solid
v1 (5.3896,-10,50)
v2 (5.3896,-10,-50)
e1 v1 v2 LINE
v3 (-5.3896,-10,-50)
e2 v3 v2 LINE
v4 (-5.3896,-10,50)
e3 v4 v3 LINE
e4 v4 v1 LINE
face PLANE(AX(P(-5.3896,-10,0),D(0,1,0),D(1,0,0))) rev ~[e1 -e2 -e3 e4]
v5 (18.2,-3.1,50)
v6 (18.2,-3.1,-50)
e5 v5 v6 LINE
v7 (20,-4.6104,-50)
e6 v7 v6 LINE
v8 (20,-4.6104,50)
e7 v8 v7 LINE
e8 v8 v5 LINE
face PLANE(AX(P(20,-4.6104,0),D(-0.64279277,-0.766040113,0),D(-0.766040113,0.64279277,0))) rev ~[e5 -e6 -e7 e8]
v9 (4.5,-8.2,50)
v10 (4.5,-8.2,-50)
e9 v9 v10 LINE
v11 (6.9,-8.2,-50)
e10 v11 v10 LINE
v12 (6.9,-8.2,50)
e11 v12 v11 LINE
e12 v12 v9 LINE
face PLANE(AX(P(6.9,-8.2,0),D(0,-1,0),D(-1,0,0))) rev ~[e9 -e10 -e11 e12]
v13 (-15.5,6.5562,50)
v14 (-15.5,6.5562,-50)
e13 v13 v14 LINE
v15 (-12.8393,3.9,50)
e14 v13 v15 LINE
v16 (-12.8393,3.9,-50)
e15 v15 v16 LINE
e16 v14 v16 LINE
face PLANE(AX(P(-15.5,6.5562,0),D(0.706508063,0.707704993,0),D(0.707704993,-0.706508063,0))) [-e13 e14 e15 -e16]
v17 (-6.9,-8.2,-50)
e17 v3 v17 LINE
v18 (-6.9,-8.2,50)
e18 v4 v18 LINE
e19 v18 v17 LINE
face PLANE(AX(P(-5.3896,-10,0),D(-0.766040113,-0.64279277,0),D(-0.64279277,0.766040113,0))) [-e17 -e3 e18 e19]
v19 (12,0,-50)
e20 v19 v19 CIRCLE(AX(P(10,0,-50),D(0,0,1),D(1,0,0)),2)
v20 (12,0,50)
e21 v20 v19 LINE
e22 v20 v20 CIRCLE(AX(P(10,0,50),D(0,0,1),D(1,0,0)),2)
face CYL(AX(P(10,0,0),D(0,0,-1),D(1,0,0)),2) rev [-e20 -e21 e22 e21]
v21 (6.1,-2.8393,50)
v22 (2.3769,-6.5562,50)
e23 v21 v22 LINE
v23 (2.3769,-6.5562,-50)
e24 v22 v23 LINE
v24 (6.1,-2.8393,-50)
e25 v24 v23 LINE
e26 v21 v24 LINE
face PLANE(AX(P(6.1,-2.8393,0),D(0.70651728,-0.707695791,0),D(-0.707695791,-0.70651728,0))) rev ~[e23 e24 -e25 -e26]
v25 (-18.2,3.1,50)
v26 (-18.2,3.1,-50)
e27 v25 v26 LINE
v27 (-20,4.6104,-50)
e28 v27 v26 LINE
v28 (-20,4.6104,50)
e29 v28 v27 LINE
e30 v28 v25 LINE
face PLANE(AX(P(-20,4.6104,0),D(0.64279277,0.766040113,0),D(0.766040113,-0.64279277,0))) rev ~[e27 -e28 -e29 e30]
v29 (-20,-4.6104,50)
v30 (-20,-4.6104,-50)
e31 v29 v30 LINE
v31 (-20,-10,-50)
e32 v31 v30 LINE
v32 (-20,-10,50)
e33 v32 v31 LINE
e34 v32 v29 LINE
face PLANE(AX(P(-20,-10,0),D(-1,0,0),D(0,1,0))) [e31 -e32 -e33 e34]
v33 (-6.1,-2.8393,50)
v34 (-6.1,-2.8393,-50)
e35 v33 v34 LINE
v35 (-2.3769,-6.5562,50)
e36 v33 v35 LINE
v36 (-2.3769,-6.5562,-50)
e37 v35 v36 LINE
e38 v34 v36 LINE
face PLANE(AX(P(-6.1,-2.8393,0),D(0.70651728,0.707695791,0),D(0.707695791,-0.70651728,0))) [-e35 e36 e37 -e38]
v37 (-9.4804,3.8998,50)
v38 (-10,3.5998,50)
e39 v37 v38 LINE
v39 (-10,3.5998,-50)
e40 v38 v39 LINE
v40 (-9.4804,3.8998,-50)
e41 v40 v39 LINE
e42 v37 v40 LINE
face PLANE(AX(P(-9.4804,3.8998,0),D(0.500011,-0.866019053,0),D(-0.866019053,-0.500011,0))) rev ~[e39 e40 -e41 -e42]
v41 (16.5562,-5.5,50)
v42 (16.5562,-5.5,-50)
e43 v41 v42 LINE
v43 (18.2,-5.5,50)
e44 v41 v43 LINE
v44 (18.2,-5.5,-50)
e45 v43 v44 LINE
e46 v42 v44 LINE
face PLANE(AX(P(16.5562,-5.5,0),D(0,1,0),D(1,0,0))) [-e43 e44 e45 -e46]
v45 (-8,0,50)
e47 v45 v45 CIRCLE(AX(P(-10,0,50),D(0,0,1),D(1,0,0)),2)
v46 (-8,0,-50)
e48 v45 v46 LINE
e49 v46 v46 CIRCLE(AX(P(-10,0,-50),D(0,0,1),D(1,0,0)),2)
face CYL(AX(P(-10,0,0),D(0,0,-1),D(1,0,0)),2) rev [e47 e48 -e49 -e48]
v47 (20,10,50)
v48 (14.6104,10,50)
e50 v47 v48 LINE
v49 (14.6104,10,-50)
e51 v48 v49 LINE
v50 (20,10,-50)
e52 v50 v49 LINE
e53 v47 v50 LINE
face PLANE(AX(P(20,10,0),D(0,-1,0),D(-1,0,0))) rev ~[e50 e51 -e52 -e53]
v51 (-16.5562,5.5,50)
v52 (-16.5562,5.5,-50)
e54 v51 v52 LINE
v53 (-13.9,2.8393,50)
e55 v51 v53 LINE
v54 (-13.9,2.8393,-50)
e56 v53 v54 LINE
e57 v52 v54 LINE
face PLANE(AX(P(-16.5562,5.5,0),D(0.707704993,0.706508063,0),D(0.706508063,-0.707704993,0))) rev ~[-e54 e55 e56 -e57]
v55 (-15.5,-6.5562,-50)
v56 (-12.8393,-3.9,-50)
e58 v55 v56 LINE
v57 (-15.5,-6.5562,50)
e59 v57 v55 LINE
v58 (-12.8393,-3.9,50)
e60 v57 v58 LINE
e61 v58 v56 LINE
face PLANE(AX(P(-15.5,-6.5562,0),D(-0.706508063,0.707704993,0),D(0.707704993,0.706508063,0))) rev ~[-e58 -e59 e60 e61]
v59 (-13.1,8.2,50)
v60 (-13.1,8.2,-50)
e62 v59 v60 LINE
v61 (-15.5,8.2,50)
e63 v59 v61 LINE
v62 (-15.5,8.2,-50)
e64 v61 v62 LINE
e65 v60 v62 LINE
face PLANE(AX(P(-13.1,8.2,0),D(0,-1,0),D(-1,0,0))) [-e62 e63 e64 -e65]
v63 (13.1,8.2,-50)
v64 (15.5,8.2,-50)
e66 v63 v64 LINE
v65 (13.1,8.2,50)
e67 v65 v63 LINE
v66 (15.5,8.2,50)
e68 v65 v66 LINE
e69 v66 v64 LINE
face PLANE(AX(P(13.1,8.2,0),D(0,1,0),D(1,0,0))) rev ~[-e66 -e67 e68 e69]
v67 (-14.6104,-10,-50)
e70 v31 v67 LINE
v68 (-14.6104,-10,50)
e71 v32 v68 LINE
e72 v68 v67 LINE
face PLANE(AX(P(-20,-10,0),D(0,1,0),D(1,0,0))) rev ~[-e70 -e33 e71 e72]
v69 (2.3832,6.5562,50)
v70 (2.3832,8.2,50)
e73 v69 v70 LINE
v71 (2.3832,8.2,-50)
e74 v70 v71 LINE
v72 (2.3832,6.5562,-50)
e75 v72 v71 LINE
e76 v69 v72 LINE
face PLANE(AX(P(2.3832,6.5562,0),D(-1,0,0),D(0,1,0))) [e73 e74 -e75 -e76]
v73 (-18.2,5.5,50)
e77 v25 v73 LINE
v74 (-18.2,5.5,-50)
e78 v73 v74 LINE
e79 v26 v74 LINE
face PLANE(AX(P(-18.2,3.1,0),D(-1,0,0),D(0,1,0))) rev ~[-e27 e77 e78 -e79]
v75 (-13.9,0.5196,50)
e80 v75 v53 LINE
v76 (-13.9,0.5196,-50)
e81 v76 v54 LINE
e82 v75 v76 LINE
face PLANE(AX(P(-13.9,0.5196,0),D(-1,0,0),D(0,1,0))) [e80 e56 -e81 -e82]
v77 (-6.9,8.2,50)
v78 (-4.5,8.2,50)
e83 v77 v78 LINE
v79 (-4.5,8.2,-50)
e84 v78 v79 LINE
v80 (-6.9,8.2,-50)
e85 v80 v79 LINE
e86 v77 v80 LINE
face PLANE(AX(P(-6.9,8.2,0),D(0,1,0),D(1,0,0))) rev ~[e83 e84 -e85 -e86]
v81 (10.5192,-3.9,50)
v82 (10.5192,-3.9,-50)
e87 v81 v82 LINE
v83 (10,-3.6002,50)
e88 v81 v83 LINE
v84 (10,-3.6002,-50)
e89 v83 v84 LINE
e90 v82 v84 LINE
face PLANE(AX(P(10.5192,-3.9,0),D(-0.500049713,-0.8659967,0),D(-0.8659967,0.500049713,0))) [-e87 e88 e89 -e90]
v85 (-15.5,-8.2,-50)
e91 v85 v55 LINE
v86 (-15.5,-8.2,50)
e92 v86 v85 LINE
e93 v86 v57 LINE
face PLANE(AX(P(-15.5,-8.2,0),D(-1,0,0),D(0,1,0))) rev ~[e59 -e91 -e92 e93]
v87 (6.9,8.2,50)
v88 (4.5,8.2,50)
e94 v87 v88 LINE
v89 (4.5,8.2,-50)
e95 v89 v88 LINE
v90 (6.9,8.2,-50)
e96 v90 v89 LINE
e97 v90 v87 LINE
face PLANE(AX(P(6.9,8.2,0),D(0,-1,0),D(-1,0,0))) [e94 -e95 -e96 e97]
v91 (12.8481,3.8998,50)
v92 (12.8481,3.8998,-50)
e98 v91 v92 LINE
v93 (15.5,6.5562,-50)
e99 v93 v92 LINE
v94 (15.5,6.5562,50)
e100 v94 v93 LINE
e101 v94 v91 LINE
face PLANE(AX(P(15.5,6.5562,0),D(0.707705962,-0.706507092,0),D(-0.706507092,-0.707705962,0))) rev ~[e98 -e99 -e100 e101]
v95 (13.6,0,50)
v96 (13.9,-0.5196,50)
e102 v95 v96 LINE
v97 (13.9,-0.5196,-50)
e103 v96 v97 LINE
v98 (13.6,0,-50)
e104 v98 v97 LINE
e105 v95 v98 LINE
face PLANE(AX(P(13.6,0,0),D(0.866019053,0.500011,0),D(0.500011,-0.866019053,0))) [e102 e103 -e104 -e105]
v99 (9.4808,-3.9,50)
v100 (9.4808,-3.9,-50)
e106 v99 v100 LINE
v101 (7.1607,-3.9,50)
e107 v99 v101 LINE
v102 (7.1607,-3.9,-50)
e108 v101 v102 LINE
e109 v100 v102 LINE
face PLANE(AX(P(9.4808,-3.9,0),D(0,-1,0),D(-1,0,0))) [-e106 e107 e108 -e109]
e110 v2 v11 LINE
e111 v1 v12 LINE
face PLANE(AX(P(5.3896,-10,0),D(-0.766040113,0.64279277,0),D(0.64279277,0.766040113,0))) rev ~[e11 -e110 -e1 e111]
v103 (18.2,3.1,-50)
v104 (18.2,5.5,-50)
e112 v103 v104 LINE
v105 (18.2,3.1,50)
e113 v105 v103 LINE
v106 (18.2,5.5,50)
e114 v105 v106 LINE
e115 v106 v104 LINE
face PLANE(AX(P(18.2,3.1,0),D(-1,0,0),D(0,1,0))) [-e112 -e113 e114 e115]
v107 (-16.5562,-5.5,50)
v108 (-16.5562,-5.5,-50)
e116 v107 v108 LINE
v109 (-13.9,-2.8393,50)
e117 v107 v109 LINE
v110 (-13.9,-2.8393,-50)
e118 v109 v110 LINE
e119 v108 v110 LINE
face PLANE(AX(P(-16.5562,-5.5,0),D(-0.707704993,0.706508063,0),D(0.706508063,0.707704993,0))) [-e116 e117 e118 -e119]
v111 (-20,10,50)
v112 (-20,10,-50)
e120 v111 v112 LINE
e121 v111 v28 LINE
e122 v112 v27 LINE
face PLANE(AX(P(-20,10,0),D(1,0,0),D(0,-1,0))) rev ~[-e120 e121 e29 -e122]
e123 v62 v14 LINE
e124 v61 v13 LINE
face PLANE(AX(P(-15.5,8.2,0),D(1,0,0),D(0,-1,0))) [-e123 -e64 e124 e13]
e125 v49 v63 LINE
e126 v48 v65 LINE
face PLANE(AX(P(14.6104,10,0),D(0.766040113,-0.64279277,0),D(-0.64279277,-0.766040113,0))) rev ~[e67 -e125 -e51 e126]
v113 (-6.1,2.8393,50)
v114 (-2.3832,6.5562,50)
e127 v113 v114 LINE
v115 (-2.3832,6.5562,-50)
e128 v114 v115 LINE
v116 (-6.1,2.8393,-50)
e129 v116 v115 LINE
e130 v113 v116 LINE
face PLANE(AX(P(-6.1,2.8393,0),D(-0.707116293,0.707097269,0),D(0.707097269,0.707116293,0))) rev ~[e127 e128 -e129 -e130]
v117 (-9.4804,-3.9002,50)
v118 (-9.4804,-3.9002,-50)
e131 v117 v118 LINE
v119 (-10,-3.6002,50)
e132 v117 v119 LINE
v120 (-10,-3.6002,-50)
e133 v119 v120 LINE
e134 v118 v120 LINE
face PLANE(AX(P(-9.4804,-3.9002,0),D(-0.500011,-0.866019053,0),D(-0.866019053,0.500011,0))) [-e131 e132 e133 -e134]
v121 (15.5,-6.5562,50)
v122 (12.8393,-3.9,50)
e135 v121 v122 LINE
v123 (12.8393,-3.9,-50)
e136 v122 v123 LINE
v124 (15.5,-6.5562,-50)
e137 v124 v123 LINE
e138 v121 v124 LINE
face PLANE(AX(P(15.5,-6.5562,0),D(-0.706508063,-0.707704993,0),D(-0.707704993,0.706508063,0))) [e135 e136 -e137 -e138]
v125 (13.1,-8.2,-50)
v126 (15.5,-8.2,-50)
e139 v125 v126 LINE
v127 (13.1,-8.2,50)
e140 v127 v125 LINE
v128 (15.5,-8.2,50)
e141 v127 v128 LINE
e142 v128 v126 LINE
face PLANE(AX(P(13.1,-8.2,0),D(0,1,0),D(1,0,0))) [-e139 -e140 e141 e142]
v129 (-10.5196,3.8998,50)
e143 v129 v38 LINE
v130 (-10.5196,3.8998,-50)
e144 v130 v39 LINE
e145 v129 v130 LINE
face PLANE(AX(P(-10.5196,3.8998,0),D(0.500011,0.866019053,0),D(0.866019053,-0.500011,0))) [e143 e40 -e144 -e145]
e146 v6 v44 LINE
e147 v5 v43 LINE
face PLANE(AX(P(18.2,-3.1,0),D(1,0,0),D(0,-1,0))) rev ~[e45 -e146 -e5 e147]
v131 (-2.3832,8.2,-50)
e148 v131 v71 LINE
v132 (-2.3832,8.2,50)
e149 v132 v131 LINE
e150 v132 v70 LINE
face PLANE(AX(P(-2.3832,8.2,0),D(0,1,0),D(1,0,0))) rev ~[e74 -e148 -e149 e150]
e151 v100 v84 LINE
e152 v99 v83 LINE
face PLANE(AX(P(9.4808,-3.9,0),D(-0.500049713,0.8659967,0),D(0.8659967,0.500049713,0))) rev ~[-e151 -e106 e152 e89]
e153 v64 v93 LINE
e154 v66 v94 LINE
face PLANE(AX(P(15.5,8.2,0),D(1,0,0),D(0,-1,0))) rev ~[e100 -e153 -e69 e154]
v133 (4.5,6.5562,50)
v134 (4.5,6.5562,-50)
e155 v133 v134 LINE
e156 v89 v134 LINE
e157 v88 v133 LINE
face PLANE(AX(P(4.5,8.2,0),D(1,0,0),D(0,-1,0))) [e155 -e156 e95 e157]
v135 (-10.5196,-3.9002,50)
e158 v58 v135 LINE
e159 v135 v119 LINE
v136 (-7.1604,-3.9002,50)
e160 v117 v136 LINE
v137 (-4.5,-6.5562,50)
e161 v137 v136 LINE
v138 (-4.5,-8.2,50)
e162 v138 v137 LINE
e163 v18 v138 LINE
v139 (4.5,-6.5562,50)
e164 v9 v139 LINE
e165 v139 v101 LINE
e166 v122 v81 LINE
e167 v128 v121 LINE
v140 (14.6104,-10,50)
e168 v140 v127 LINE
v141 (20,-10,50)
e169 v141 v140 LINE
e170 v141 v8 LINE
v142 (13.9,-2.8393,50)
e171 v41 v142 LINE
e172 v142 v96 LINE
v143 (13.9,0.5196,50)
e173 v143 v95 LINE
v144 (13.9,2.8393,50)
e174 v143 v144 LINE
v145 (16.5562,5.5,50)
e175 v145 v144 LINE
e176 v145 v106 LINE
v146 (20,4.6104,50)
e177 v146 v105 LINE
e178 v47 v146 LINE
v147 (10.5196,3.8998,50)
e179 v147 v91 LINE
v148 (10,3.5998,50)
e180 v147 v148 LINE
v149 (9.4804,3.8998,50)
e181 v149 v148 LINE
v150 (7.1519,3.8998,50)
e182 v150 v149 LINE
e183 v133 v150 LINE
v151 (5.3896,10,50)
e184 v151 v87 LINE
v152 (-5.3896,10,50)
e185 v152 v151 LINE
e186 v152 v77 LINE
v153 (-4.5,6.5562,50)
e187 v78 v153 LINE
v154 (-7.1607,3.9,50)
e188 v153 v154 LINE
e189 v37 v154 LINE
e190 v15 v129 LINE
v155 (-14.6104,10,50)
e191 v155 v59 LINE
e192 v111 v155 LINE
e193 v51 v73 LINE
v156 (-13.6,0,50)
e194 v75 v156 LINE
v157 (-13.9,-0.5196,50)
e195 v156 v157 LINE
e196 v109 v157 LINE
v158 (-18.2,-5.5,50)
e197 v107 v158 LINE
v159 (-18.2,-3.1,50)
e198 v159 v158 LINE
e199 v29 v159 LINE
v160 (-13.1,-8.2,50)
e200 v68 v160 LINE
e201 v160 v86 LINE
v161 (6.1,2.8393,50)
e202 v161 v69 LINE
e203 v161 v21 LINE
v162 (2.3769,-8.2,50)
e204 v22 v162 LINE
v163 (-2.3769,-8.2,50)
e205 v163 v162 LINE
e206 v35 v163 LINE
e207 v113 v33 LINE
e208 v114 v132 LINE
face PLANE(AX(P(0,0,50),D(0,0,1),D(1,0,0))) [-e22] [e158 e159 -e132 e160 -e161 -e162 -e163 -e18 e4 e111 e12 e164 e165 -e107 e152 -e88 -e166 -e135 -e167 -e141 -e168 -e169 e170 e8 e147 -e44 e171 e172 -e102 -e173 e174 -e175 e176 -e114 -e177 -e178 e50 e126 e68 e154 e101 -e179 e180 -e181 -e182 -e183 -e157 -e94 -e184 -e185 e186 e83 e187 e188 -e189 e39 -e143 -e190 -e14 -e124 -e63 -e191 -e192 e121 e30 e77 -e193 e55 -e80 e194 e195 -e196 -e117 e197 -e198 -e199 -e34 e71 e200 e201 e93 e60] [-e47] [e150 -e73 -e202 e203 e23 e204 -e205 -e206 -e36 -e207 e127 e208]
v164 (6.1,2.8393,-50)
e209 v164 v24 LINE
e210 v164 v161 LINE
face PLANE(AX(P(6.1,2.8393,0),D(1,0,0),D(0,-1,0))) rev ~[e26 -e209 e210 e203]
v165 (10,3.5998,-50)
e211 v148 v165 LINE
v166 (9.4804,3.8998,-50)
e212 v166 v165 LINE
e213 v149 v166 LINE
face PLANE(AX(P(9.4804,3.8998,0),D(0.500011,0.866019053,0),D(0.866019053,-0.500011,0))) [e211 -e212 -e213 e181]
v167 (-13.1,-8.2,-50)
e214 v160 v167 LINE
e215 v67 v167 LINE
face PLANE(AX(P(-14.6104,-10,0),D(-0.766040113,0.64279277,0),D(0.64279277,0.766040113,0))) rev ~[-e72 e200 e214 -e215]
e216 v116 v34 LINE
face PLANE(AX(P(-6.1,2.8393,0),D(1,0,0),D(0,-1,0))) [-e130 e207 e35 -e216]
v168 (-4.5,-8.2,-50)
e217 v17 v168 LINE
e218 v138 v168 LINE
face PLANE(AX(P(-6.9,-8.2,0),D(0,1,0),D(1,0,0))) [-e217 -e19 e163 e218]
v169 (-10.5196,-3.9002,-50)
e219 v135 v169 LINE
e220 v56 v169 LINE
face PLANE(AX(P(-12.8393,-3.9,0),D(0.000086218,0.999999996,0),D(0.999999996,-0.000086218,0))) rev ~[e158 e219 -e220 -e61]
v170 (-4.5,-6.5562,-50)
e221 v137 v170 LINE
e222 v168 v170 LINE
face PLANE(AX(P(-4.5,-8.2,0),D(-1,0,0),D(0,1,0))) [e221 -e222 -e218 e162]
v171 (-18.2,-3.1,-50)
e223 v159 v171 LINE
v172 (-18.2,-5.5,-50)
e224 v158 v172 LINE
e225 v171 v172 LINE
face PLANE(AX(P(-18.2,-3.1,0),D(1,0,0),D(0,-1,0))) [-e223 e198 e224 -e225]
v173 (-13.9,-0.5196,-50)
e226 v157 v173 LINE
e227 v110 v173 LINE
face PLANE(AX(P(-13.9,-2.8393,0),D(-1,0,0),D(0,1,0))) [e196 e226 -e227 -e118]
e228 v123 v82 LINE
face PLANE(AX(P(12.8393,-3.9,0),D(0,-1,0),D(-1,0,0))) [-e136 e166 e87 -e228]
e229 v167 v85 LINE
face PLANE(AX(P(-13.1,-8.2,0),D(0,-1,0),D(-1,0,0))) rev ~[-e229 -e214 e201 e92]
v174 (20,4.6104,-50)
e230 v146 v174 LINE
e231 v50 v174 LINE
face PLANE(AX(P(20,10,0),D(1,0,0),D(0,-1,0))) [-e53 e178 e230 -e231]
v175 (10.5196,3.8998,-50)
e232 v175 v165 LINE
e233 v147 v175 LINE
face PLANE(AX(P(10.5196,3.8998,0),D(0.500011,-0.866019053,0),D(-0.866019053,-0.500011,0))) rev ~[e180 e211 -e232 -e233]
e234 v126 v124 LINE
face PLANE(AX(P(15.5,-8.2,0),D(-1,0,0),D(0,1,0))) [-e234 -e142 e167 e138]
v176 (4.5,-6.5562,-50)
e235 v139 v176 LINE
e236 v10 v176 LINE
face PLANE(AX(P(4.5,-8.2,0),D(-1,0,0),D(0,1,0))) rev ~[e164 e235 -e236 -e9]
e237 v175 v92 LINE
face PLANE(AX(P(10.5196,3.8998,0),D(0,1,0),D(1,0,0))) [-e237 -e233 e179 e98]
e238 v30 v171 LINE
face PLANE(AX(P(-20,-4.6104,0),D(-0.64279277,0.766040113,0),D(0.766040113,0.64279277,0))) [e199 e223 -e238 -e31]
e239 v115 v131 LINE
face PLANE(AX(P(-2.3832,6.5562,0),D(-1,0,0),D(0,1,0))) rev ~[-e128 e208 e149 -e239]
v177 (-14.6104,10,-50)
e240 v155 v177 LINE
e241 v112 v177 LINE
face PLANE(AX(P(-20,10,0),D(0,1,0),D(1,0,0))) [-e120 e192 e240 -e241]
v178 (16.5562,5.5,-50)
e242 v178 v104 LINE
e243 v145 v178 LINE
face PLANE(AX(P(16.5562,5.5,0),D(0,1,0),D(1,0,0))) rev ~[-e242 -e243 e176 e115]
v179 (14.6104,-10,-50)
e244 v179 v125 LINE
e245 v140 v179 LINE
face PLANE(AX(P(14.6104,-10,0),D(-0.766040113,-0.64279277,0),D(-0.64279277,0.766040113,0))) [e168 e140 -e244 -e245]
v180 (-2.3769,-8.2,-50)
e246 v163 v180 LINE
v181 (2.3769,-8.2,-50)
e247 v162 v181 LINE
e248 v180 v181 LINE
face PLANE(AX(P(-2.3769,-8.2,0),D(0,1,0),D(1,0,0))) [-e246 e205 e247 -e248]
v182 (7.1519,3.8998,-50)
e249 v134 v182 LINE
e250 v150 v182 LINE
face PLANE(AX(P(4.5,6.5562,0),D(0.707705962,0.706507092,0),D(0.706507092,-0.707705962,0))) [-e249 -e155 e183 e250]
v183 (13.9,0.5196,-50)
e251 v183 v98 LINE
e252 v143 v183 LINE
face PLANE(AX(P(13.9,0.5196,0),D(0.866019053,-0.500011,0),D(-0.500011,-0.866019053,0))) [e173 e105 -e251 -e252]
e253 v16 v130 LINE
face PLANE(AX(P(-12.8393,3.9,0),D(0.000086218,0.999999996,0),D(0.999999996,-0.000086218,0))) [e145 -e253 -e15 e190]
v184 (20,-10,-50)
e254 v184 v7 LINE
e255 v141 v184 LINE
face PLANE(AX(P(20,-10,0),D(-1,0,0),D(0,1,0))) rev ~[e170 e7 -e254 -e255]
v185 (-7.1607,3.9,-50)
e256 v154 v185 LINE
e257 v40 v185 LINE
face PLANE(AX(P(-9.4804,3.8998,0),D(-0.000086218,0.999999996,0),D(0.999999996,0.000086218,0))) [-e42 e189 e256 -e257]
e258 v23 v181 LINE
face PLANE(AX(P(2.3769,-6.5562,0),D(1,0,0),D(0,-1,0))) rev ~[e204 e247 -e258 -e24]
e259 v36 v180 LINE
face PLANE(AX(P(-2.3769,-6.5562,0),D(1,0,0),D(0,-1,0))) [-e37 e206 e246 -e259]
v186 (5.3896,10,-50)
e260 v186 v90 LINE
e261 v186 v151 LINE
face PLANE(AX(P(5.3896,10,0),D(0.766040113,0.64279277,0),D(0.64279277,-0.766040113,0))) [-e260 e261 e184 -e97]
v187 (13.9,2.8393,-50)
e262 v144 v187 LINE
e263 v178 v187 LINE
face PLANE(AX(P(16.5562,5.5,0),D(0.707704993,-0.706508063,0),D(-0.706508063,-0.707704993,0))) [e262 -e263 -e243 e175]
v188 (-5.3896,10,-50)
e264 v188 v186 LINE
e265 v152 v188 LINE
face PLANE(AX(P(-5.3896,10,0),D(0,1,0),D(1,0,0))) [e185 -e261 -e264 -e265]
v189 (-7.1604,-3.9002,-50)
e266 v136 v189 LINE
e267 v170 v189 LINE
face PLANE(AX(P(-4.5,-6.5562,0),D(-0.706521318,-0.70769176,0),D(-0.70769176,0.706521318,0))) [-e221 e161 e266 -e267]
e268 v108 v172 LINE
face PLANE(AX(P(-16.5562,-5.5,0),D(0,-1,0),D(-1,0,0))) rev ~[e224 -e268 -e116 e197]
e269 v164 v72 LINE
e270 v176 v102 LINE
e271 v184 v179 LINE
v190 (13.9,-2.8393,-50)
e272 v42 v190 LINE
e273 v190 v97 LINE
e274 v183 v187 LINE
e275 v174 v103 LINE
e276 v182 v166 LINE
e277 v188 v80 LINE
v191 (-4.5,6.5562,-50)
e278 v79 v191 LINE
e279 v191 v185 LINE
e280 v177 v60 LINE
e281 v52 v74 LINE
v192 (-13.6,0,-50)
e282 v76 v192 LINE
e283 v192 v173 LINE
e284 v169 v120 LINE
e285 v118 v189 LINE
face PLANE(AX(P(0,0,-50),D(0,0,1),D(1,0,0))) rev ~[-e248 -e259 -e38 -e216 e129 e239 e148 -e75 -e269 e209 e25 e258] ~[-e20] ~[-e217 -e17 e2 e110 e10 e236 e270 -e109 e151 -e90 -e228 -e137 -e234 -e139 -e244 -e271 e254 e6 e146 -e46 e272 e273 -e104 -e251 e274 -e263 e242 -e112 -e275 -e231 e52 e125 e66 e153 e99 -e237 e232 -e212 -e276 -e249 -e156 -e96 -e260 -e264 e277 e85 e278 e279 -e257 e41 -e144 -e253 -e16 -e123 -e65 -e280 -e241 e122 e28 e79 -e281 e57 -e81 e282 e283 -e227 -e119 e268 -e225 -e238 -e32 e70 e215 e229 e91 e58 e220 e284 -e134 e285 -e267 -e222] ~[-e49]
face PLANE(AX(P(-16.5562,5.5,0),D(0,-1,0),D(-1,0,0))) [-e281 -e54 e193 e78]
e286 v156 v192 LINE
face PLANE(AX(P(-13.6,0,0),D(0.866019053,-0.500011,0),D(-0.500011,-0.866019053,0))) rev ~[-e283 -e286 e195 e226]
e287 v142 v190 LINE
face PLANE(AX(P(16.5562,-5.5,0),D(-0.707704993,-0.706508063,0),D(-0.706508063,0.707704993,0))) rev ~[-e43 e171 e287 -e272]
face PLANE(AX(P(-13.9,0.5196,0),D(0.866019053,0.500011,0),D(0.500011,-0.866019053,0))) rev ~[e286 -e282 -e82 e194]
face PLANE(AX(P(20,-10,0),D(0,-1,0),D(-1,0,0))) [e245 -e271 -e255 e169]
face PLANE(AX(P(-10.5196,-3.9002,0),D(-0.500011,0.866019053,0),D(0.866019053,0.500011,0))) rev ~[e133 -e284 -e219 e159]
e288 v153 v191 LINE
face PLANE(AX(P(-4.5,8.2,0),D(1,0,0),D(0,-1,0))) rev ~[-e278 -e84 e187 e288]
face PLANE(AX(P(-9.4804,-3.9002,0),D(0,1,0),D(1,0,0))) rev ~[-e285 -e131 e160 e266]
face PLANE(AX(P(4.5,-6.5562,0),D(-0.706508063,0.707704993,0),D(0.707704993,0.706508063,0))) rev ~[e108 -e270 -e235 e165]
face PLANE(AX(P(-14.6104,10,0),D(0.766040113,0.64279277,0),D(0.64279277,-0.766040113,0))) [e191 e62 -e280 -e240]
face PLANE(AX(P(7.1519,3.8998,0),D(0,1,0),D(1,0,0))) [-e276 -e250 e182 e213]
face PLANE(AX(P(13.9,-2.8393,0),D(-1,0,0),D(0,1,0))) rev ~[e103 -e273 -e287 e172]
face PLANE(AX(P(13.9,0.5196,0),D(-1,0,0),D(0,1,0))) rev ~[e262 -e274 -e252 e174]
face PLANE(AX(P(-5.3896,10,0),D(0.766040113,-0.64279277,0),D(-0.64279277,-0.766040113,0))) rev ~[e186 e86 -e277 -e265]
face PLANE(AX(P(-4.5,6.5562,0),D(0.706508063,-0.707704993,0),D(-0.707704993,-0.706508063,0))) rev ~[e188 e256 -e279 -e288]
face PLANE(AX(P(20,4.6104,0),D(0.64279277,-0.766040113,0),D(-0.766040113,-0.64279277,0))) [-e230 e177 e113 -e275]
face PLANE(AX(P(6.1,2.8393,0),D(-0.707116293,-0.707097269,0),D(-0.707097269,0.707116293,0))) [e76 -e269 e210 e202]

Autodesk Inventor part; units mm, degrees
ref_plane "YZ Plane" through (0, 0, 0) normal (1, 0, 0) x (0, 1, 0)
ref_plane "XZ Plane" through (0, 0, 0) normal (0, 1, 0) x (-1, 0, 0)
ref_plane "XY Plane" through (0, 0, 0) normal (0, 0, 1) x (1, 0, 0)
sketch "Sketch1" plane through (0, 0, 0) normal (0, 0, 1) x (1, 0, 0)
  line L0 (4.5, 8.2) -> (4.5, 6.5562)
  line L1 (6.9, 8.2) -> (4.5, 8.2)
  line L2 (5.3896, 10) -> (6.9, 8.2)
  line L3 (-5.3896, 10) -> (5.3896, 10)
  line L4 (-5.3896, 10) -> (-6.9, 8.2)
  line L5 (-6.9, 8.2) -> (-4.5, 8.2)
  line L6 (-4.5, 8.2) -> (-4.5, 6.5562)
  line L7 (-4.5, 6.5562) -> (-7.1607, 3.9)
  line L8 (-9.4804, 3.8998) -> (-7.1607, 3.9)
  line L9 (-9.4804, 3.8998) -> (-10, 3.5998)
  line L10 (-10.5196, 3.8998) -> (-10, 3.5998)
  line L11 (-12.8393, 3.9) -> (-10.5196, 3.8998)
  line L12 (-15.5, 6.5562) -> (-12.8393, 3.9)
  line L13 (-15.5, 8.2) -> (-15.5, 6.5562)
  line L14 (-13.1, 8.2) -> (-15.5, 8.2)
  line L15 (-14.6104, 10) -> (-13.1, 8.2)
  line L16 (-20, 10) -> (-14.6104, 10)
  line L17 (-20, 10) -> (-20, 4.6104)
  line L18 (-20, 4.6104) -> (-18.2, 3.1)
  line L19 (-18.2, 3.1) -> (-18.2, 5.5)
  line L20 (-16.5562, 5.5) -> (-18.2, 5.5)
  line L21 (-16.5562, 5.5) -> (-13.9, 2.8393)
  line L22 (-13.9, 0.5196) -> (-13.9, 2.8393)
  line L23 (-13.9, 0.5196) -> (-13.6, 0)
  line L24 (-13.6, 0) -> (-13.9, -0.5196)
  line L25 (-13.9, -2.8393) -> (-13.9, -0.5196)
  line L26 (-16.5562, -5.5) -> (-13.9, -2.8393)
  line L27 (-16.5562, -5.5) -> (-18.2, -5.5)
  line L28 (-18.2, -3.1) -> (-18.2, -5.5)
  line L29 (-20, -4.6104) -> (-18.2, -3.1)
  line L30 (-20, -10) -> (-20, -4.6104)
  line L31 (-20, -10) -> (-14.6104, -10)
  line L32 (-14.6104, -10) -> (-13.1, -8.2)
  line L33 (-13.1, -8.2) -> (-15.5, -8.2)
  line L34 (-15.5, -8.2) -> (-15.5, -6.5562)
  line L35 (-15.5, -6.5562) -> (-12.8393, -3.9)
  line L36 (-12.8393, -3.9) -> (-10.5196, -3.9002)
  line L37 (-10.5196, -3.9002) -> (-10, -3.6002)
  line L38 (-9.4804, -3.9002) -> (-10, -3.6002)
  line L39 (-9.4804, -3.9002) -> (-7.1604, -3.9002)
  line L40 (-4.5, -6.5562) -> (-7.1604, -3.9002)
  line L41 (-4.5, -8.2) -> (-4.5, -6.5562)
  line L42 (-6.9, -8.2) -> (-4.5, -8.2)
  line L43 (-5.3896, -10) -> (-6.9, -8.2)
  line L44 (-5.3896, -10) -> (5.3896, -10)
  line L45 (5.3896, -10) -> (6.9, -8.2)
  line L46 (6.9, -8.2) -> (4.5, -8.2)
  line L47 (4.5, -8.2) -> (4.5, -6.5562)
  line L48 (4.5, -6.5562) -> (7.1607, -3.9)
  line L49 (9.4808, -3.9) -> (7.1607, -3.9)
  line L50 (9.4808, -3.9) -> (10, -3.6002)
  line L51 (10.5192, -3.9) -> (10, -3.6002)
  line L52 (12.8393, -3.9) -> (10.5192, -3.9)
  line L53 (15.5, -6.5562) -> (12.8393, -3.9)
  line L54 (15.5, -8.2) -> (15.5, -6.5562)
  line L55 (13.1, -8.2) -> (15.5, -8.2)
  line L56 (14.6104, -10) -> (13.1, -8.2)
  line L57 (20, -10) -> (14.6104, -10)
  line L58 (20, -10) -> (20, -4.6104)
  line L59 (20, -4.6104) -> (18.2, -3.1)
  line L60 (18.2, -3.1) -> (18.2, -5.5)
  line L61 (16.5562, -5.5) -> (18.2, -5.5)
  line L62 (16.5562, -5.5) -> (13.9, -2.8393)
  line L63 (13.9, -2.8393) -> (13.9, -0.5196)
  line L64 (13.6, 0) -> (13.9, -0.5196)
  line L65 (13.9, 0.5196) -> (13.6, 0)
  line L66 (13.9, 0.5196) -> (13.9, 2.8393)
  line L67 (16.5562, 5.5) -> (13.9, 2.8393)
  line L68 (16.5562, 5.5) -> (18.2, 5.5)
  line L69 (18.2, 3.1) -> (18.2, 5.5)
  line L70 (20, 4.6104) -> (18.2, 3.1)
  line L71 (20, 10) -> (20, 4.6104)
  line L72 (20, 10) -> (14.6104, 10)
  line L73 (14.6104, 10) -> (13.1, 8.2)
  line L74 (13.1, 8.2) -> (15.5, 8.2)
  line L75 (15.5, 8.2) -> (15.5, 6.5562)
  line L76 (15.5, 6.5562) -> (12.8481, 3.8998)
  line L77 (10.5196, 3.8998) -> (12.8481, 3.8998)
  line L78 (10.5196, 3.8998) -> (10, 3.5998)
  line L79 (9.4804, 3.8998) -> (10, 3.5998)
  line L80 (7.1519, 3.8998) -> (9.4804, 3.8998)
  line L81 (4.5, 6.5562) -> (7.1519, 3.8998)
  circle A0 centre (-10, 0) radius 2
  circle A1 centre (10, 0) radius 2
  line L82 (6.1, 2.8393) -> (2.3832, 6.5562)
  line L83 (6.1, 2.8393) -> (6.1, -2.8393)
  line L84 (6.1, -2.8393) -> (2.3769, -6.5562)
  line L85 (2.3769, -6.5562) -> (2.3769, -8.2)
  line L86 (-2.3769, -8.2) -> (2.3769, -8.2)
  line L87 (-2.3769, -6.5562) -> (-2.3769, -8.2)
  line L88 (-6.1, -2.8393) -> (-2.3769, -6.5562)
  line L89 (-6.1, 2.8393) -> (-6.1, -2.8393)
  line L90 (-6.1, 2.8393) -> (-2.3832, 6.5562)
  line L91 (-2.3832, 6.5562) -> (-2.3832, 8.2)
  line L92 (-2.3832, 8.2) -> (2.3832, 8.2)
  line L93 (2.3832, 6.5562) -> (2.3832, 8.2)
  point P0 (0, 0)
  point P1 (0, 0)
extrude "Extrusion1" add sketch "Sketch1" along normal mid plane 100
properties part number "vslot_2040_100mm"
